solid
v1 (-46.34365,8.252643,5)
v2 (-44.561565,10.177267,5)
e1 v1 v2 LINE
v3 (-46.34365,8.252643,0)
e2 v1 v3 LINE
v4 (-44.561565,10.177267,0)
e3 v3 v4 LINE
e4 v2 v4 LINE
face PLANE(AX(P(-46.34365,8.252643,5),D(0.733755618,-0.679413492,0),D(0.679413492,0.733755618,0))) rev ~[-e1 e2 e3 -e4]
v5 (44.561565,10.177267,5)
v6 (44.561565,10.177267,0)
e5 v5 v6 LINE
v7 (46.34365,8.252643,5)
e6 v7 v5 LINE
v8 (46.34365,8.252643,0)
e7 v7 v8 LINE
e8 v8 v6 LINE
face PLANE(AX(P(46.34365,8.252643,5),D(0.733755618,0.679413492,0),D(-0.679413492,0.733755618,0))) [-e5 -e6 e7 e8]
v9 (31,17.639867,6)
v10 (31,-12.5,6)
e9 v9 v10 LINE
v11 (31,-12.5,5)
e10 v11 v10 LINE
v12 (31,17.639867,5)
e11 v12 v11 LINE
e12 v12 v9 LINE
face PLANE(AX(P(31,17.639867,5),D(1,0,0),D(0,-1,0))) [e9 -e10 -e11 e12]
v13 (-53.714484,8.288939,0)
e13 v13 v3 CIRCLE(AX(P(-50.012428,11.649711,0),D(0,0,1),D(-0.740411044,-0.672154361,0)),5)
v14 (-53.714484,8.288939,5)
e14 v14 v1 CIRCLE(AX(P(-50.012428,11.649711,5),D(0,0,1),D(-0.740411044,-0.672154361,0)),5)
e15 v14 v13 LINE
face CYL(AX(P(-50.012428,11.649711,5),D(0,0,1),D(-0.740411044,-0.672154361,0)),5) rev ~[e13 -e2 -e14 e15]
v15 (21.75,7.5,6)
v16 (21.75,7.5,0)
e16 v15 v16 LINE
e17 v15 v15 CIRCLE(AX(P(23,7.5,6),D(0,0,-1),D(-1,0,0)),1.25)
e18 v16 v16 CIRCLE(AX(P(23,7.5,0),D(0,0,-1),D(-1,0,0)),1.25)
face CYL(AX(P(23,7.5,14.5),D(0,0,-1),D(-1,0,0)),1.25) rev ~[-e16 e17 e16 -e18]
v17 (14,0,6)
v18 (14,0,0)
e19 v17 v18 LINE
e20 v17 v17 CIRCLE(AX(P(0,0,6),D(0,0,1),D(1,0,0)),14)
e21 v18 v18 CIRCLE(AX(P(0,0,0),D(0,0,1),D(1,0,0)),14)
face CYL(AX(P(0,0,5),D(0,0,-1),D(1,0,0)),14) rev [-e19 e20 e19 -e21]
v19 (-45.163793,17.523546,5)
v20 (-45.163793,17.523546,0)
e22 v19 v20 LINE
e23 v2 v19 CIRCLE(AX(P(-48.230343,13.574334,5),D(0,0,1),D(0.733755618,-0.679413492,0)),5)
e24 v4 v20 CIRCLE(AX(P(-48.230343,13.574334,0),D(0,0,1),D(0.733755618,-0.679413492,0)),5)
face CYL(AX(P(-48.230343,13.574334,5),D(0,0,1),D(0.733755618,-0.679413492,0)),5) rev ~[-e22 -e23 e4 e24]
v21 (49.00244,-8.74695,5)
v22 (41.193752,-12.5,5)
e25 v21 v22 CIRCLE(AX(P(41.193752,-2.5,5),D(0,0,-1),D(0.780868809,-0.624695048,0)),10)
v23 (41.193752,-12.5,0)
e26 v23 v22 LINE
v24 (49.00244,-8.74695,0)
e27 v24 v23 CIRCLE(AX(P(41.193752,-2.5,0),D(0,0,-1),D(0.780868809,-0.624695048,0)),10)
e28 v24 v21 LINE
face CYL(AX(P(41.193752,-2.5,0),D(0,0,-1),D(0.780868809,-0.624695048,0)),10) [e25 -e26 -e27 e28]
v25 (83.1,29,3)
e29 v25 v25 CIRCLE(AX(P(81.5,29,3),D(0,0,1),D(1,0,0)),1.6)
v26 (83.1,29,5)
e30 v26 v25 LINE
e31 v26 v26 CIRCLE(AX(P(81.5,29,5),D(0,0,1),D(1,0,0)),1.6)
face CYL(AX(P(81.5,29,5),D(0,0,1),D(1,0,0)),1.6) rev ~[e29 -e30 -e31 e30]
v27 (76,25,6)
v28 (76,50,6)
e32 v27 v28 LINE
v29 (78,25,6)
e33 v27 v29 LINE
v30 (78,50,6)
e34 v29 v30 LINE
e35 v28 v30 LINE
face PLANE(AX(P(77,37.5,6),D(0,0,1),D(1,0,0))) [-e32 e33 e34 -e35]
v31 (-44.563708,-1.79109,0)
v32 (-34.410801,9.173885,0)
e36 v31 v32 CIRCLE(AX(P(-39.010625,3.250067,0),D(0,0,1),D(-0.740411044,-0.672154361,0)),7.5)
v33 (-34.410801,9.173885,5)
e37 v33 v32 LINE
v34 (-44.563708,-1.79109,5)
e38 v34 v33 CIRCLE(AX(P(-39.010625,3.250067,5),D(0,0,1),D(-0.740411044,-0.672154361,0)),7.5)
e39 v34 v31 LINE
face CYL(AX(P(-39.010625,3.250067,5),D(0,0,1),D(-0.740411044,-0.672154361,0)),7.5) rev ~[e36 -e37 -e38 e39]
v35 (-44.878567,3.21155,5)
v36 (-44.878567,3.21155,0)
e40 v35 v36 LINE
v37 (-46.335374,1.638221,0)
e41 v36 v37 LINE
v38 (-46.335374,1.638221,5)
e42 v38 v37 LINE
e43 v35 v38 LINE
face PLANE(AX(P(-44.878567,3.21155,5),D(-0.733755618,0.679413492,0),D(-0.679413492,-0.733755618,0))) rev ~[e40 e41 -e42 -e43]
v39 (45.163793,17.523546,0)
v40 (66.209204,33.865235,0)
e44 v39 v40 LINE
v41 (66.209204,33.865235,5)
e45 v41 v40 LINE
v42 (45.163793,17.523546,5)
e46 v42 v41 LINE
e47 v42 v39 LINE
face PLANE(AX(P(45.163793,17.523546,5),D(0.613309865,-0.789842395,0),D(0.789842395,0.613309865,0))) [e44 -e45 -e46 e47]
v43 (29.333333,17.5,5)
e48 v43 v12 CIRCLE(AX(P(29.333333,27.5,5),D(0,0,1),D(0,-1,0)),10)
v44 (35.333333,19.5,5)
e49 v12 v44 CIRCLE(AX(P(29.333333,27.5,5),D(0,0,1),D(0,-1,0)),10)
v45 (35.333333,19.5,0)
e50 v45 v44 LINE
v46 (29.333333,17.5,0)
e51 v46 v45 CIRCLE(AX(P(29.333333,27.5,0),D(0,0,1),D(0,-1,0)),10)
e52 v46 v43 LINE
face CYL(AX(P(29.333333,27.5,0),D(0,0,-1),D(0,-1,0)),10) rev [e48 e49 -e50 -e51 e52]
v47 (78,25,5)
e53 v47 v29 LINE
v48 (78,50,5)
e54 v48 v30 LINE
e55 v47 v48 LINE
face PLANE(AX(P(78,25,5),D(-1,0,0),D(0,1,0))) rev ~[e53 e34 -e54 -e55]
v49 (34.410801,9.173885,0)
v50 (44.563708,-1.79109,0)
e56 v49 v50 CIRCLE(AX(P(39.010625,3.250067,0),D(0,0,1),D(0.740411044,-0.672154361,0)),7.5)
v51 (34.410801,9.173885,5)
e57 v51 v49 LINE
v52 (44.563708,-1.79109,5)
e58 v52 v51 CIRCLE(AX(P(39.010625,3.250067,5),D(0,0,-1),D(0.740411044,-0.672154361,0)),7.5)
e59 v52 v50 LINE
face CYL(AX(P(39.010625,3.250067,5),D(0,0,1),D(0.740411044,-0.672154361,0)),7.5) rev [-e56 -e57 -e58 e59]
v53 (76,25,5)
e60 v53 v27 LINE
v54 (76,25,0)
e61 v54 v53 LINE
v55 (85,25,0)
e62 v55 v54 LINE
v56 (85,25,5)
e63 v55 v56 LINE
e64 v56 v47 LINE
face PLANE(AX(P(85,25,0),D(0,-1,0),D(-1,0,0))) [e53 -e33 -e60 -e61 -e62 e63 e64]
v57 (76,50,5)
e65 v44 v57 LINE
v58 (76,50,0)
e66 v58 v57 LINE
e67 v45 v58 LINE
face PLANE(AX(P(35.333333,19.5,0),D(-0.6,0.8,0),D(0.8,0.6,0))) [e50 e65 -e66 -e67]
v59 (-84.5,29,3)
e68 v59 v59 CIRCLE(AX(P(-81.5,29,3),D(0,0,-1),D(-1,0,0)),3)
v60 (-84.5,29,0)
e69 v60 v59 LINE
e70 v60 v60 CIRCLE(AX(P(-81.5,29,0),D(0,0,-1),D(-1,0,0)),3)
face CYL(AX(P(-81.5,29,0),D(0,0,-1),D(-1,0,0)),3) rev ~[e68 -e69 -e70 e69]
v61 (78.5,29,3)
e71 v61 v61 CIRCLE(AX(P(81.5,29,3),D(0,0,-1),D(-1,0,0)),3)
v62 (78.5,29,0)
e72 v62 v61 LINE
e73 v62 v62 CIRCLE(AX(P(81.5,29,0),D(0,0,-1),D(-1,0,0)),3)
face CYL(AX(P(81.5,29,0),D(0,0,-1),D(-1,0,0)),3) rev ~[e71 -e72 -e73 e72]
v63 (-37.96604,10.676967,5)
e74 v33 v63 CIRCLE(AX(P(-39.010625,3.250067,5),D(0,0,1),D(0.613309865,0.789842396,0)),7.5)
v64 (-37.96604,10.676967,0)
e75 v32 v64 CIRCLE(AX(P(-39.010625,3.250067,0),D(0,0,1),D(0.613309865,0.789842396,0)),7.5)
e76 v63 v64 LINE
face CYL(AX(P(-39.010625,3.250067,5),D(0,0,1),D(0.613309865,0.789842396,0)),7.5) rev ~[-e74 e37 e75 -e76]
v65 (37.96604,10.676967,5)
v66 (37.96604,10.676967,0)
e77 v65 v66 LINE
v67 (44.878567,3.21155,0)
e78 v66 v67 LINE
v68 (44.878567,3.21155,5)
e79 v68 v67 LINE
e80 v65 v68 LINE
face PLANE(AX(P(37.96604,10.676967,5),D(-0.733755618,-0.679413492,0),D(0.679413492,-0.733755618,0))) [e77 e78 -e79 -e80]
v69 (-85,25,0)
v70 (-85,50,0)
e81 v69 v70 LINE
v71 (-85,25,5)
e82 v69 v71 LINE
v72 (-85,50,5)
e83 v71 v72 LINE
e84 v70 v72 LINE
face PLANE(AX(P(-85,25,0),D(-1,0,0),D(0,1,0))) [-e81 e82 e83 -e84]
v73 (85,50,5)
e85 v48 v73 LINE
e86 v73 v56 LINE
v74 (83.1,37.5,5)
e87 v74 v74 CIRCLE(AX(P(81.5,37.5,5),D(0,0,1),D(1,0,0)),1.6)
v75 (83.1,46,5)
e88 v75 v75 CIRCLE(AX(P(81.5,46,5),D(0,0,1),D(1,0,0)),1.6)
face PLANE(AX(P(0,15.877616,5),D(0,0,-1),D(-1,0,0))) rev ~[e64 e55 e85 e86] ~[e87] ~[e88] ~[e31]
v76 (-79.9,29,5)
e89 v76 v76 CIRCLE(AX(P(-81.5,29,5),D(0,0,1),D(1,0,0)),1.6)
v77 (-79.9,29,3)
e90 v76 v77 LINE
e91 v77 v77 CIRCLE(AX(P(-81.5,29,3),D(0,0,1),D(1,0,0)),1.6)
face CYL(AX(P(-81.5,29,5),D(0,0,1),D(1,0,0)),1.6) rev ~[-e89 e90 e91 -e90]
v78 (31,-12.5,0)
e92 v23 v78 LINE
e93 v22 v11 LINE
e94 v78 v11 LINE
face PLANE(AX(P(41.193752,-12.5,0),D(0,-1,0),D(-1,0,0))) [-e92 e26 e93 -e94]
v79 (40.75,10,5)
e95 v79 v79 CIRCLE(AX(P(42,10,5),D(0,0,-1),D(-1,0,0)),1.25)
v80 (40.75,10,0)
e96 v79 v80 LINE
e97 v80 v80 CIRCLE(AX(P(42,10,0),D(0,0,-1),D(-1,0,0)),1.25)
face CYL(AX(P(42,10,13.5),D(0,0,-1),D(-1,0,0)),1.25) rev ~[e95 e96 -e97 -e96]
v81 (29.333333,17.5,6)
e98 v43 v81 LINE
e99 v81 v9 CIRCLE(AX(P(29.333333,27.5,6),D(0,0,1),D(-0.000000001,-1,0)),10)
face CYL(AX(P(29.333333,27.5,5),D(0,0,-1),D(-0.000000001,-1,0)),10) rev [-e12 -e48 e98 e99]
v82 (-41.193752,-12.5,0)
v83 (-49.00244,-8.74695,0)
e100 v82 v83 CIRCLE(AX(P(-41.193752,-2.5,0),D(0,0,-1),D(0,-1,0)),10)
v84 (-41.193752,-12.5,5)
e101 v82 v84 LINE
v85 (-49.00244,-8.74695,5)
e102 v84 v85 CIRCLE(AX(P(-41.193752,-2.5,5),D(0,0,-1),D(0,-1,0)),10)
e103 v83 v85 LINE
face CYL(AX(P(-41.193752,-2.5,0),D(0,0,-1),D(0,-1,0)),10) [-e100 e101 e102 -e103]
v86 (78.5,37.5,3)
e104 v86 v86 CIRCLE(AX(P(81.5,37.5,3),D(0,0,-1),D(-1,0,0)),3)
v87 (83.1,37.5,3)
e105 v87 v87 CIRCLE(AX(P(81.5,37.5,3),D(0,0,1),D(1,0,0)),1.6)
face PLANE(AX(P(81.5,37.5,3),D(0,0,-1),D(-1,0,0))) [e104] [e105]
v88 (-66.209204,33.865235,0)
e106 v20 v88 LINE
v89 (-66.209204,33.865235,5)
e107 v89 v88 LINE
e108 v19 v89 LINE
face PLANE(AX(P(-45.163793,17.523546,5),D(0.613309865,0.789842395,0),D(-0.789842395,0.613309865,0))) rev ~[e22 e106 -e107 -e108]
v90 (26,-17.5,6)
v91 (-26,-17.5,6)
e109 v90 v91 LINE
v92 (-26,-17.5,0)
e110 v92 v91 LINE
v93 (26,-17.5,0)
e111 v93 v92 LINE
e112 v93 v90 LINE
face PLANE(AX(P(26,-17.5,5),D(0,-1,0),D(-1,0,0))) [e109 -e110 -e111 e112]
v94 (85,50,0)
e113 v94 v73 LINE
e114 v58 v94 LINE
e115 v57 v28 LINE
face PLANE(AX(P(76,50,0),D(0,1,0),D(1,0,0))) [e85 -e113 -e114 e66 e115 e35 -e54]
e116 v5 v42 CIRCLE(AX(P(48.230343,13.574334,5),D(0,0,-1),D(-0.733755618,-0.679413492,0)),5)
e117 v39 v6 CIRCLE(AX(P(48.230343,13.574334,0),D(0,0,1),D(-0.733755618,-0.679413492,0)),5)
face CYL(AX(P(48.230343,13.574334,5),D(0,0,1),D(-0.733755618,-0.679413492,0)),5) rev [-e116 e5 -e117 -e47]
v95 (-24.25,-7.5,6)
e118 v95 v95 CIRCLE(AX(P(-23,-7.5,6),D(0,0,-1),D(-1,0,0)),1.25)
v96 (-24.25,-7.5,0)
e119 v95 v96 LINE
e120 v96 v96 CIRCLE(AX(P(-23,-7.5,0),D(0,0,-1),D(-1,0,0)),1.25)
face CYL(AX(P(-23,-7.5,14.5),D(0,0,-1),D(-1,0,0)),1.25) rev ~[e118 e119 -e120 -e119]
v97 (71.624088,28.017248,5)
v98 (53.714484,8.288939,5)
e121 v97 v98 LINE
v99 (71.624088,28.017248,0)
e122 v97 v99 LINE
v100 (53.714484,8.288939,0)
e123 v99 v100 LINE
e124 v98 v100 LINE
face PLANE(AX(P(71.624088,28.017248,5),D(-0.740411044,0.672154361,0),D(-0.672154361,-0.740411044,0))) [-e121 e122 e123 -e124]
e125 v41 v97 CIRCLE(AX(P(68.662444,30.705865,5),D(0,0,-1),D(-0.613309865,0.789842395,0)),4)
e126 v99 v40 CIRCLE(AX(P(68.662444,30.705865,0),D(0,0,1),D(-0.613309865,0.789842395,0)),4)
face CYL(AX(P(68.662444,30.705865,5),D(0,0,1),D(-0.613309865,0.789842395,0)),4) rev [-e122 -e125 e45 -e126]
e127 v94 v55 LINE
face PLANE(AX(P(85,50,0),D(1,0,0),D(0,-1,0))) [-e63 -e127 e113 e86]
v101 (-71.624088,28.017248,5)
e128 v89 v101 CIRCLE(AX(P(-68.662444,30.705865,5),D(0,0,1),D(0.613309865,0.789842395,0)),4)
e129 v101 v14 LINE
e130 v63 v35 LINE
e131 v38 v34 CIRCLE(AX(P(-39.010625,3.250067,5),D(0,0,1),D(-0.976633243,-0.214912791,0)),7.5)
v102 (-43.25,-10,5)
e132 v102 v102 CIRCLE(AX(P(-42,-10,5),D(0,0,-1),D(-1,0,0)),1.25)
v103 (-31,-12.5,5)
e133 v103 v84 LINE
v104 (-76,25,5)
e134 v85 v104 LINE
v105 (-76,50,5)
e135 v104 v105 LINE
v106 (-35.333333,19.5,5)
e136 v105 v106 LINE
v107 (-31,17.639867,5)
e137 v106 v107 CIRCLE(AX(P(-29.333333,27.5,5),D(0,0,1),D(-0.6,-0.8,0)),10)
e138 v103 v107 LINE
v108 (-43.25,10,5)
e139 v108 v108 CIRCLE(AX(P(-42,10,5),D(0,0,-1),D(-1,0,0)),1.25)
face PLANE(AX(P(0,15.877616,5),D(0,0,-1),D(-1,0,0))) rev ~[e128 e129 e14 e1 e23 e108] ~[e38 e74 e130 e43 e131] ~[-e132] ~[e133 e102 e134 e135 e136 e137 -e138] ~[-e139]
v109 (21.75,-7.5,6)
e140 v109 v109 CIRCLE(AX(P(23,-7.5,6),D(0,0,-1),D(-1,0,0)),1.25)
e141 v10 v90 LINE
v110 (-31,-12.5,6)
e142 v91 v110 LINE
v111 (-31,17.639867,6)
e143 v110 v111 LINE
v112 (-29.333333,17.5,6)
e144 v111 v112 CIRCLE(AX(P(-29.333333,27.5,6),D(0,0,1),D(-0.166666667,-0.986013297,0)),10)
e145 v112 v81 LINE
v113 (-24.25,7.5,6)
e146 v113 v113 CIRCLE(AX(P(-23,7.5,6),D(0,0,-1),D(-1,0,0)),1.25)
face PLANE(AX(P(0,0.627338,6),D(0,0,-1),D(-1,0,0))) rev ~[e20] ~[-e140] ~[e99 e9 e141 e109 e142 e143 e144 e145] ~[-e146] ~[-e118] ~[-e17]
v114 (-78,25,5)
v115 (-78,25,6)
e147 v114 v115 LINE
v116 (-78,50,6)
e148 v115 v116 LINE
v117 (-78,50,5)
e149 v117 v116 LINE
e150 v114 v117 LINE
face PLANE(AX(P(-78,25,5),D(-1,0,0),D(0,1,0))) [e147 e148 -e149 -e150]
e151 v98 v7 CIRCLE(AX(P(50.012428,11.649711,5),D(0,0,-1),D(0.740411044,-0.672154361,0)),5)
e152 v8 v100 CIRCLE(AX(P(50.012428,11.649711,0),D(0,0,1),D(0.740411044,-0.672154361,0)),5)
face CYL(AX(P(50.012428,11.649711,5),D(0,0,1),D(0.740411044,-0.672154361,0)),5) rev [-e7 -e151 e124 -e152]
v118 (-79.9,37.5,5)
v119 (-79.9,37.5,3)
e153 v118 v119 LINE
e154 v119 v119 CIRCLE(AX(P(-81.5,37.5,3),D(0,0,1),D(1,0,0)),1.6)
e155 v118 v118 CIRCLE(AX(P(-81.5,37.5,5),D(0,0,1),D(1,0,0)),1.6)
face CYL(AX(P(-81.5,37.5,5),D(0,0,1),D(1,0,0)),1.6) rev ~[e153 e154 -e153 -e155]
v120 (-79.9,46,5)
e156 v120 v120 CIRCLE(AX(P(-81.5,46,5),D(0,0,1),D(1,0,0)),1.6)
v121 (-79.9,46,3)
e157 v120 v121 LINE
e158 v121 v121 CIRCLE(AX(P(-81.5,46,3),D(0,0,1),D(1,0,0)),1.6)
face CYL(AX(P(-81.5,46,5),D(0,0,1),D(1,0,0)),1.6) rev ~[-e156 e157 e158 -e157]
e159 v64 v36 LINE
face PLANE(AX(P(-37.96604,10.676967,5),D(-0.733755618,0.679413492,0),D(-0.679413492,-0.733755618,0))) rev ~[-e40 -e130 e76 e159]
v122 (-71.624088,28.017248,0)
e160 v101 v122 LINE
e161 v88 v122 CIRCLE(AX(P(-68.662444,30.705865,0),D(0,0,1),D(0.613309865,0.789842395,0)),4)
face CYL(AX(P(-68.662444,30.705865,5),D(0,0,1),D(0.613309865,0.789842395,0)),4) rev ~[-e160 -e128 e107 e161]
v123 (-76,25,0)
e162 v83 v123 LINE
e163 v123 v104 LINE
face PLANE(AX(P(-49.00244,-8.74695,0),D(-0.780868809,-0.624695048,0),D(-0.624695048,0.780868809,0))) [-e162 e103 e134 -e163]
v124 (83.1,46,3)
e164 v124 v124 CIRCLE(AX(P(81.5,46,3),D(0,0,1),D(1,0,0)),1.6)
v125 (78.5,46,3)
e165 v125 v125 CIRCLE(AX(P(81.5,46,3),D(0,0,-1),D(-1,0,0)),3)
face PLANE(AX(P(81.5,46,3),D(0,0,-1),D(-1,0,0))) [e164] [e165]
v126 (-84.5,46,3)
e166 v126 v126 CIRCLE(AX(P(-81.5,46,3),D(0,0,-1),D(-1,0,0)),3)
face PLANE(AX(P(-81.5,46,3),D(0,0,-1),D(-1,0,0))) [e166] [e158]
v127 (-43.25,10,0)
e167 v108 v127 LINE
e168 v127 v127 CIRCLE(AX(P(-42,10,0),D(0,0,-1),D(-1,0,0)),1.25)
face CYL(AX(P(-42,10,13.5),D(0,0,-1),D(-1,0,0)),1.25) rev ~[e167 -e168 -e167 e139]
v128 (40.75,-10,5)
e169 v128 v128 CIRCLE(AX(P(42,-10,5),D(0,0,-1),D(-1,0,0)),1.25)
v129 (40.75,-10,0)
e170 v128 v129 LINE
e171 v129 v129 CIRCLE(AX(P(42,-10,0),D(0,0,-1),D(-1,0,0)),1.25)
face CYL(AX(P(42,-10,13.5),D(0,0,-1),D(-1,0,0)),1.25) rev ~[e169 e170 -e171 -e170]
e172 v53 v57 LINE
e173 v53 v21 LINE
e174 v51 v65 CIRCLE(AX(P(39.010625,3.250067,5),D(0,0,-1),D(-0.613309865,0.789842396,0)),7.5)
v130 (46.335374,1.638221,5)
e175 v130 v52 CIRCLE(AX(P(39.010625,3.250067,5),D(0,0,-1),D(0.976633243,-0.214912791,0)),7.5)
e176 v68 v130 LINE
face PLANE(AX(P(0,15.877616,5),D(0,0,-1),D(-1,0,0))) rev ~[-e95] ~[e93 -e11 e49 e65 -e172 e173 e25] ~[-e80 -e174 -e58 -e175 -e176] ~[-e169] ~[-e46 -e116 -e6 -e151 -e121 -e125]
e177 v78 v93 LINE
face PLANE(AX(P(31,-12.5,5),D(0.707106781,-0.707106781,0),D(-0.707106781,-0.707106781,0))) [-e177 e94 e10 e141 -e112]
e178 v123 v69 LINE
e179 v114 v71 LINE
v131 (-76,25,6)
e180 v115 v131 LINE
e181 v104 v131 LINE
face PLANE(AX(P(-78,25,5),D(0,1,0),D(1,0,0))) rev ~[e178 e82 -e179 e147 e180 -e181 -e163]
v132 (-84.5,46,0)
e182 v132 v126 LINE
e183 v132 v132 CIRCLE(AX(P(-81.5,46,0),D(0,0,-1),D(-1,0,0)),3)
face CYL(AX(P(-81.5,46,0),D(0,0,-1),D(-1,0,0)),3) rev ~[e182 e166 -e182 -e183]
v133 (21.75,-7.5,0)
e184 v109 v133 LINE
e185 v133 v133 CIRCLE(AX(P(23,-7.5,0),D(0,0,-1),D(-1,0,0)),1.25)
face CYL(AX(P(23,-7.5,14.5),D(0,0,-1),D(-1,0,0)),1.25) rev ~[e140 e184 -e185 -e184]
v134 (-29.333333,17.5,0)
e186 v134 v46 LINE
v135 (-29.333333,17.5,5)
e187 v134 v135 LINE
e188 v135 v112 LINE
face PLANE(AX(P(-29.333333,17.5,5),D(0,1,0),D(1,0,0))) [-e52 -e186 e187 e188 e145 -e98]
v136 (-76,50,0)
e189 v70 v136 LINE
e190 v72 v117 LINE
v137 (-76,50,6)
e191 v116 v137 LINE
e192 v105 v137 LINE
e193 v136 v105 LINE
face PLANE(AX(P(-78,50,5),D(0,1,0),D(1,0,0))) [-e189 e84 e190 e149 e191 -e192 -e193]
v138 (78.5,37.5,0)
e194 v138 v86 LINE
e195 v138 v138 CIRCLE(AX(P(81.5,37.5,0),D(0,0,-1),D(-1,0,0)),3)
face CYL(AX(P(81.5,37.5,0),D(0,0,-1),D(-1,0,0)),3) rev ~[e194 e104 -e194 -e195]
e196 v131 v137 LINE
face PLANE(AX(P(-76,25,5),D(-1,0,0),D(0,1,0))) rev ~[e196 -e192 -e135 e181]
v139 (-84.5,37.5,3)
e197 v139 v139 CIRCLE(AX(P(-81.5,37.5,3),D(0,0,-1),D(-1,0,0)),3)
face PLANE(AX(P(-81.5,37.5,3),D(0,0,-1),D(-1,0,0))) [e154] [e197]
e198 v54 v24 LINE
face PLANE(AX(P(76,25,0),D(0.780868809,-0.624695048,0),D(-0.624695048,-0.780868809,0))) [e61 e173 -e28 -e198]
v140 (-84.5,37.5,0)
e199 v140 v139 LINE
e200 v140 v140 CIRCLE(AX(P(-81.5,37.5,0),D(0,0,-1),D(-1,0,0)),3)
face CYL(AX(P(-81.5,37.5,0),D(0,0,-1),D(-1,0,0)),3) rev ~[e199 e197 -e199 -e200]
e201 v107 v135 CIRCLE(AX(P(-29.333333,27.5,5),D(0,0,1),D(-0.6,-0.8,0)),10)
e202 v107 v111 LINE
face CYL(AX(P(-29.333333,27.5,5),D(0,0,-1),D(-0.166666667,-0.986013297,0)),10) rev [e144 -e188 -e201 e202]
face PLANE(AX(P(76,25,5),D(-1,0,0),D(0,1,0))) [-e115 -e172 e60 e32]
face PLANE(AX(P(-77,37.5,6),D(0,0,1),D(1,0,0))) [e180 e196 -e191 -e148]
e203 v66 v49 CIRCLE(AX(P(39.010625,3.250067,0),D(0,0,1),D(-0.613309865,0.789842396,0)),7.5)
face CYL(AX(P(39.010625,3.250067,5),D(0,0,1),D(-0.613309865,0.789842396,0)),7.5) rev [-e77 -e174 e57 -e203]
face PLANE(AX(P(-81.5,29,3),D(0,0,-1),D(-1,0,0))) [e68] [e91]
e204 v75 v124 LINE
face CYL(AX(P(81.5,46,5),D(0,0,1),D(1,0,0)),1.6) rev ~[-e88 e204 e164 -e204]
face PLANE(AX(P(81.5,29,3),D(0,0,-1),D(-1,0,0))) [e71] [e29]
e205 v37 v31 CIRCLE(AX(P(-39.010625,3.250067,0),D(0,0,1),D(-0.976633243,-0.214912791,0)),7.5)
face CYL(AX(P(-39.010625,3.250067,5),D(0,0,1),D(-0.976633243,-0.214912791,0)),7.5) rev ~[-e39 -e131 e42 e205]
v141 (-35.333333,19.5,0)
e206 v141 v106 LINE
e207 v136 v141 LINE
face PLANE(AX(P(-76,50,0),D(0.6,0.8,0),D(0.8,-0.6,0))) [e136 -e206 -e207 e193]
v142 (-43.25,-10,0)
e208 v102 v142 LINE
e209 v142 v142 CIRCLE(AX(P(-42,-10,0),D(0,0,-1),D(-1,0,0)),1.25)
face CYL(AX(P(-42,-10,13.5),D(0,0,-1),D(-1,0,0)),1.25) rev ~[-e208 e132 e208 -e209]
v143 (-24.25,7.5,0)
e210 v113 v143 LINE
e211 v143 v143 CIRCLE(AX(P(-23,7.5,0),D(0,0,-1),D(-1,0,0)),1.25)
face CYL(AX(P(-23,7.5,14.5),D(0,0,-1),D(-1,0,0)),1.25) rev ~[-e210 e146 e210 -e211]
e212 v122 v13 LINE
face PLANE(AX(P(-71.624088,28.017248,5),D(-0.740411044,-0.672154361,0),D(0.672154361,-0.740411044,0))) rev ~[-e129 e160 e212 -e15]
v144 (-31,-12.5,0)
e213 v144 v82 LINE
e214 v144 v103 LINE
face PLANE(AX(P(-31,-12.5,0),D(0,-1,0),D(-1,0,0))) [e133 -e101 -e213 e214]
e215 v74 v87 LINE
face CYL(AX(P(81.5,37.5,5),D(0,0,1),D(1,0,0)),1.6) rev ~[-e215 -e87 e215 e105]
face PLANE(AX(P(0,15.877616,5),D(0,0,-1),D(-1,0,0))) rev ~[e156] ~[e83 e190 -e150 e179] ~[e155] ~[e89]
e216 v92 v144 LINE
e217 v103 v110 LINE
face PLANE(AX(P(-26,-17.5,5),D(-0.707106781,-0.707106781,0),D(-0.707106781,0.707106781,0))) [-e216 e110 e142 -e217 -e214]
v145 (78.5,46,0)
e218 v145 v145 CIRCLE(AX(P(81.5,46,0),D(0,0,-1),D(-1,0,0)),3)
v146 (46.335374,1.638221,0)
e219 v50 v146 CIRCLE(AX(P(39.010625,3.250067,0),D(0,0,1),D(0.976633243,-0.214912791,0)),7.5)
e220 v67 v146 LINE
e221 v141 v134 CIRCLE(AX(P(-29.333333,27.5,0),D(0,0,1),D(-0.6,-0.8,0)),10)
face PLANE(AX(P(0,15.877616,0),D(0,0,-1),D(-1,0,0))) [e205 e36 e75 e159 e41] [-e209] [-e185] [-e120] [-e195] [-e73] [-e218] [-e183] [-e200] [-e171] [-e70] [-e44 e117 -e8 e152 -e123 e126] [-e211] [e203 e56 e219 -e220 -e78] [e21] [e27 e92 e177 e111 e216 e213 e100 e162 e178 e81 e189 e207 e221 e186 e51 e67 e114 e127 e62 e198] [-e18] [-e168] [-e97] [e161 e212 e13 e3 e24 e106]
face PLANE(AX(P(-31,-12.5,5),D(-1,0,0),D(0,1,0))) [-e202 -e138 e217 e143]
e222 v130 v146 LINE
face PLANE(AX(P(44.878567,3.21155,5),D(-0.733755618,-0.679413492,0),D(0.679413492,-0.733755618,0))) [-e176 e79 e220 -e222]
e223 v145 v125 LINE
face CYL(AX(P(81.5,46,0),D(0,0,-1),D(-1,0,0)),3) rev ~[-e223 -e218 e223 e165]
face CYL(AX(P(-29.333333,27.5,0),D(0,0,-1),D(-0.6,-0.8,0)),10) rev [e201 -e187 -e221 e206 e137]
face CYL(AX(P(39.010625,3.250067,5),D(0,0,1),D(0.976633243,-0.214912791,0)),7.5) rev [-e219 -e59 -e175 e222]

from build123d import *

# Parameters (mm, degrees)
SKETCH_1_R             = 14
EXTRUDE_1_DEPTH        = 5
SKETCH_2_W             = 2
SKETCH_2_H             = 25
EXTRUDE_2_DEPTH        = 1
CUT_EXTRUDE_2_REACH    = 7
HOLE_WIZARD_M3_1_D     = 2.5
HOLE_WIZARD_M3_1_DEPTH = 8.5
HOLE_WIZARD_M3_1_TIP   = 0.751075774
SKETCH_9_R             = 14
EXTRUDE_3_DEPTH        = 1
HOLE_WIZARD_M3_3_D     = 2.5
HOLE_WIZARD_M3_3_DEPTH = 8.5
HOLE_WIZARD_M3_3_TIP   = 0.751075774
CUT_EXTRUDE_3_REACH    = 7
SKETCH_12_R            = 1.6
SKETCH_13_R            = 3
CUT_EXTRUDE_4_DEPTH    = 3


with BuildPart() as part:
    # 草图1 → 凸台-拉伸1 (new body)
    with BuildSketch(Plane.XY):
        with BuildLine():
            Line((-85, 25), (-85, 50))
            Line((-85, 50), (-76, 50))
            Line((-76, 50), (-35.333333333, 19.5))
            ThreePointArc((-35.333333333, 19.5), (-32.495610994, 18.013167019), (-29.333333333, 17.5))
            Line((-29.333333333, 17.5), (29.333333333, 17.5))
            ThreePointArc((29.333333333, 17.5), (32.495610994, 18.013167019), (35.333333333, 19.5))
            Line((35.333333333, 19.5), (76, 50))
            Line((76, 50), (85, 50))
            Line((85, 50), (85, 25))
            Line((85, 25), (76, 25))
            Line((76, 25), (49.00243962, -8.746950476))
            ThreePointArc((49.00243962, -8.746950476), (45.52563883, -11.513032363), (41.193751525, -12.5))
            Line((41.193751525, -12.5), (31, -12.5))
            Line((31, -12.5), (26, -17.5))
            Line((26, -17.5), (-26, -17.5))
            Line((-26, -17.5), (-31, -12.5))
            Line((-31, -12.5), (-41.193751525, -12.5))
            ThreePointArc((-41.193751525, -12.5), (-45.52563883, -11.513032363), (-49.00243962, -8.746950476))
            Line((-49.00243962, -8.746950476), (-76, 25))
            Line((-76, 25), (-85, 25))
        make_face()
        Circle(SKETCH_1_R, mode=Mode.SUBTRACT)
    extrude(amount=EXTRUDE_1_DEPTH)

    # 草图2 → 凸台-拉伸2 (add)
    with BuildSketch(Plane.XY.offset(5)):
        with Locations((-77, 37.5)):
            Rectangle(SKETCH_2_W, SKETCH_2_H)
        with Locations((77, 37.5)):
            Rectangle(SKETCH_2_W, SKETCH_2_H)
    extrude(amount=EXTRUDE_2_DEPTH)

    # 草图3 → 切除-拉伸2 (cut, up to next)
    with BuildSketch(Plane.XY.offset(5), mode=Mode.PRIVATE) as cut_extrude_2_sk1:
        with BuildLine():
            Line((-71.624088, 28.017247632), (-53.714483662, 8.288938763))
            ThreePointArc((-53.714483662, 8.288938763), (-50.037049276, 6.649771189), (-46.343650352, 8.252643109))
            Line((-46.343650352, 8.252643109), (-44.561564605, 10.177266985))
            ThreePointArc((-44.561564605, 10.177266985), (-43.247059214, 13.982850984), (-45.163793368, 17.523546422))
            Line((-45.163793368, 17.523546422), (-66.209204362, 33.865234658))
            ThreePointArc((-66.209204362, 33.865234658), (-71.597466294, 33.423519047), (-71.624088, 28.017247632))
        make_face()
    cut_extrude_2_tool1 = extrude(cut_extrude_2_sk1.sketch, amount=-CUT_EXTRUDE_2_REACH, mode=Mode.PRIVATE) & part.part
    add(cut_extrude_2_tool1.solids().sort_by_distance((-57.416432, 20.292736, 5))[0], mode=Mode.SUBTRACT)
    # 草图3 → 切除-拉伸2 (cut, up to next)
    with BuildSketch(Plane.XY.offset(5), mode=Mode.PRIVATE) as cut_extrude_2_sk2:
        with BuildLine():
            Line((44.878567193, 3.211549518), (46.335374238, 1.638221397))
            ThreePointArc((46.335374238, 1.638221397), (45.673933781, -0.192361307), (44.563707744, -1.791090382))
            ThreePointArc((44.563707744, -1.791090382), (33.507457779, -1.845533864), (34.410800923, 9.173885293))
            ThreePointArc((34.410800923, 9.173885293), (36.090068224, 10.158058978), (37.966040159, 10.676967267))
            Line((37.966040159, 10.676967267), (44.878567193, 3.211549518))
        make_face()
    cut_extrude_2_tool2 = extrude(cut_extrude_2_sk2.sketch, amount=-CUT_EXTRUDE_2_REACH, mode=Mode.PRIVATE) & part.part
    add(cut_extrude_2_tool2.solids().sort_by_distance((38.242863, 2.539166, 5))[0], mode=Mode.SUBTRACT)
    # 草图3 → 切除-拉伸2 (cut, up to next)
    with BuildSketch(Plane.XY.offset(5), mode=Mode.PRIVATE) as cut_extrude_2_sk3:
        with BuildLine():
            Line((-44.878567193, 3.211549518), (-46.335374238, 1.638221397))
            ThreePointArc((-46.335374238, 1.638221397), (-45.673933781, -0.192361307), (-44.563707744, -1.791090382))
            ThreePointArc((-44.563707744, -1.791090382), (-33.507457779, -1.845533864), (-34.410800923, 9.173885293))
            ThreePointArc((-34.410800923, 9.173885293), (-36.090068224, 10.158058978), (-37.966040159, 10.676967267))
            Line((-37.966040159, 10.676967267), (-44.878567193, 3.211549518))
        make_face()
    cut_extrude_2_tool3 = extrude(cut_extrude_2_sk3.sketch, amount=-CUT_EXTRUDE_2_REACH, mode=Mode.PRIVATE) & part.part
    add(cut_extrude_2_tool3.solids().sort_by_distance((-38.242863, 2.539166, 5))[0], mode=Mode.SUBTRACT)
    # 草图3 → 切除-拉伸2 (cut, up to next)
    with BuildSketch(Plane.XY.offset(5), mode=Mode.PRIVATE) as cut_extrude_2_sk4:
        with BuildLine():
            Line((46.343650352, 8.252643109), (44.561564605, 10.177266985))
            ThreePointArc((44.561564605, 10.177266985), (43.247059214, 13.982850984), (45.163793368, 17.523546422))
            Line((45.163793368, 17.523546422), (66.209204362, 33.865234658))
            ThreePointArc((66.209204362, 33.865234658), (71.597466294, 33.423519047), (71.624088, 28.017247632))
            Line((71.624088, 28.017247632), (53.714483662, 8.288938763))
            ThreePointArc((53.714483662, 8.288938763), (50.037049276, 6.649771189), (46.343650352, 8.252643109))
        make_face()
    cut_extrude_2_tool4 = extrude(cut_extrude_2_sk4.sketch, amount=-CUT_EXTRUDE_2_REACH, mode=Mode.PRIVATE) & part.part
    add(cut_extrude_2_tool4.solids().sort_by_distance((57.416432, 20.292736, 5))[0], mode=Mode.SUBTRACT)

    # M3 螺纹孔1
    with Locations(Plane(origin=(-42, 10, 5), x_dir=(1, 0, 0), z_dir=(0, 0, 1))):
        with Locations((0, 0), (0, -20), (84, 0), (84, -20)):
            Hole(HOLE_WIZARD_M3_1_D / 2, depth=HOLE_WIZARD_M3_1_DEPTH)
            with Locations((0, 0, -(HOLE_WIZARD_M3_1_DEPTH + HOLE_WIZARD_M3_1_TIP / 2))):  # 118° drill point
                Cone(0, HOLE_WIZARD_M3_1_D / 2, HOLE_WIZARD_M3_1_TIP, mode=Mode.SUBTRACT)

    # 草图9 → 凸台-拉伸3 (add)
    with BuildSketch(Plane.XY.offset(5)):
        with BuildLine():
            Line((-31, -12.5), (-31, 17.639867028))
            ThreePointArc((-31, 17.639867028), (-30.169595936, 17.535028105), (-29.333333333, 17.5))
            Line((-29.333333333, 17.5), (29.333333333, 17.5))
            ThreePointArc((29.333333333, 17.5), (30.169595936, 17.535028105), (31, 17.639867028))
            Line((31, 17.639867028), (31, -12.5))
            Line((31, -12.5), (26, -17.5))
            Line((26, -17.5), (-26, -17.5))
            Line((-26, -17.5), (-31, -12.5))
        make_face()
        Circle(SKETCH_9_R, mode=Mode.SUBTRACT)
    extrude(amount=EXTRUDE_3_DEPTH)

    # M3 螺纹孔3
    with Locations(Plane(origin=(-23, 7.5, 6), x_dir=(1, 0, 0), z_dir=(0, 0, 1))):
        with Locations((0, 0), (0, -15), (46, -15), (46, 0)):
            Hole(HOLE_WIZARD_M3_3_D / 2, depth=HOLE_WIZARD_M3_3_DEPTH)
            with Locations((0, 0, -(HOLE_WIZARD_M3_3_DEPTH + HOLE_WIZARD_M3_3_TIP / 2))):  # 118° drill point
                Cone(0, HOLE_WIZARD_M3_3_D / 2, HOLE_WIZARD_M3_3_TIP, mode=Mode.SUBTRACT)

    # 草图12 → 切除-拉伸3 (cut, up to next)
    with BuildSketch(Plane.XY.offset(5), mode=Mode.PRIVATE) as cut_extrude_3_sk1:
        with Locations((-81.5, 37.5)):
            Circle(SKETCH_12_R)
    cut_extrude_3_tool1 = extrude(cut_extrude_3_sk1.sketch, amount=-CUT_EXTRUDE_3_REACH, mode=Mode.PRIVATE) & part.part
    add(cut_extrude_3_tool1.solids().sort_by_distance((-81.5, 37.5, 5))[0], mode=Mode.SUBTRACT)
    # 草图12 → 切除-拉伸3 (cut, up to next)
    with BuildSketch(Plane.XY.offset(5), mode=Mode.PRIVATE) as cut_extrude_3_sk2:
        with Locations((-81.5, 29)):
            Circle(SKETCH_12_R)
    cut_extrude_3_tool2 = extrude(cut_extrude_3_sk2.sketch, amount=-CUT_EXTRUDE_3_REACH, mode=Mode.PRIVATE) & part.part
    add(cut_extrude_3_tool2.solids().sort_by_distance((-81.5, 29, 5))[0], mode=Mode.SUBTRACT)
    # 草图12 → 切除-拉伸3 (cut, up to next)
    with BuildSketch(Plane.XY.offset(5), mode=Mode.PRIVATE) as cut_extrude_3_sk3:
        with Locations((-81.5, 46)):
            Circle(SKETCH_12_R)
    cut_extrude_3_tool3 = extrude(cut_extrude_3_sk3.sketch, amount=-CUT_EXTRUDE_3_REACH, mode=Mode.PRIVATE) & part.part
    add(cut_extrude_3_tool3.solids().sort_by_distance((-81.5, 46, 5))[0], mode=Mode.SUBTRACT)
    # 草图12 → 切除-拉伸3 (cut, up to next)
    with BuildSketch(Plane.XY.offset(5), mode=Mode.PRIVATE) as cut_extrude_3_sk4:
        with Locations((81.5, 46)):
            Circle(SKETCH_12_R)
    cut_extrude_3_tool4 = extrude(cut_extrude_3_sk4.sketch, amount=-CUT_EXTRUDE_3_REACH, mode=Mode.PRIVATE) & part.part
    add(cut_extrude_3_tool4.solids().sort_by_distance((81.5, 46, 5))[0], mode=Mode.SUBTRACT)
    # 草图12 → 切除-拉伸3 (cut, up to next)
    with BuildSketch(Plane.XY.offset(5), mode=Mode.PRIVATE) as cut_extrude_3_sk5:
        with Locations((81.5, 29)):
            Circle(SKETCH_12_R)
    cut_extrude_3_tool5 = extrude(cut_extrude_3_sk5.sketch, amount=-CUT_EXTRUDE_3_REACH, mode=Mode.PRIVATE) & part.part
    add(cut_extrude_3_tool5.solids().sort_by_distance((81.5, 29, 5))[0], mode=Mode.SUBTRACT)
    # 草图12 → 切除-拉伸3 (cut, up to next)
    with BuildSketch(Plane.XY.offset(5), mode=Mode.PRIVATE) as cut_extrude_3_sk6:
        with Locations((81.5, 37.5)):
            Circle(SKETCH_12_R)
    cut_extrude_3_tool6 = extrude(cut_extrude_3_sk6.sketch, amount=-CUT_EXTRUDE_3_REACH, mode=Mode.PRIVATE) & part.part
    add(cut_extrude_3_tool6.solids().sort_by_distance((81.5, 37.5, 5))[0], mode=Mode.SUBTRACT)

    # 草图13 → 切除-拉伸4 (cut)
    with BuildSketch(Plane(origin=(0, 0, 0), x_dir=(-1, 0, 0), z_dir=(0, 0, -1))):
        with Locations((-81.5, 37.5)):
            Circle(SKETCH_13_R)
        with Locations((-81.5, 46)):
            Circle(SKETCH_13_R)
        with Locations((-81.5, 29)):
            Circle(SKETCH_13_R)
        with Locations((81.5, 29)):
            Circle(SKETCH_13_R)
        with Locations((81.5, 37.5)):
            Circle(SKETCH_13_R)
        with Locations((81.5, 46)):
            Circle(SKETCH_13_R)
    extrude(amount=-CUT_EXTRUDE_4_DEPTH, mode=Mode.SUBTRACT)


solid = part.part
